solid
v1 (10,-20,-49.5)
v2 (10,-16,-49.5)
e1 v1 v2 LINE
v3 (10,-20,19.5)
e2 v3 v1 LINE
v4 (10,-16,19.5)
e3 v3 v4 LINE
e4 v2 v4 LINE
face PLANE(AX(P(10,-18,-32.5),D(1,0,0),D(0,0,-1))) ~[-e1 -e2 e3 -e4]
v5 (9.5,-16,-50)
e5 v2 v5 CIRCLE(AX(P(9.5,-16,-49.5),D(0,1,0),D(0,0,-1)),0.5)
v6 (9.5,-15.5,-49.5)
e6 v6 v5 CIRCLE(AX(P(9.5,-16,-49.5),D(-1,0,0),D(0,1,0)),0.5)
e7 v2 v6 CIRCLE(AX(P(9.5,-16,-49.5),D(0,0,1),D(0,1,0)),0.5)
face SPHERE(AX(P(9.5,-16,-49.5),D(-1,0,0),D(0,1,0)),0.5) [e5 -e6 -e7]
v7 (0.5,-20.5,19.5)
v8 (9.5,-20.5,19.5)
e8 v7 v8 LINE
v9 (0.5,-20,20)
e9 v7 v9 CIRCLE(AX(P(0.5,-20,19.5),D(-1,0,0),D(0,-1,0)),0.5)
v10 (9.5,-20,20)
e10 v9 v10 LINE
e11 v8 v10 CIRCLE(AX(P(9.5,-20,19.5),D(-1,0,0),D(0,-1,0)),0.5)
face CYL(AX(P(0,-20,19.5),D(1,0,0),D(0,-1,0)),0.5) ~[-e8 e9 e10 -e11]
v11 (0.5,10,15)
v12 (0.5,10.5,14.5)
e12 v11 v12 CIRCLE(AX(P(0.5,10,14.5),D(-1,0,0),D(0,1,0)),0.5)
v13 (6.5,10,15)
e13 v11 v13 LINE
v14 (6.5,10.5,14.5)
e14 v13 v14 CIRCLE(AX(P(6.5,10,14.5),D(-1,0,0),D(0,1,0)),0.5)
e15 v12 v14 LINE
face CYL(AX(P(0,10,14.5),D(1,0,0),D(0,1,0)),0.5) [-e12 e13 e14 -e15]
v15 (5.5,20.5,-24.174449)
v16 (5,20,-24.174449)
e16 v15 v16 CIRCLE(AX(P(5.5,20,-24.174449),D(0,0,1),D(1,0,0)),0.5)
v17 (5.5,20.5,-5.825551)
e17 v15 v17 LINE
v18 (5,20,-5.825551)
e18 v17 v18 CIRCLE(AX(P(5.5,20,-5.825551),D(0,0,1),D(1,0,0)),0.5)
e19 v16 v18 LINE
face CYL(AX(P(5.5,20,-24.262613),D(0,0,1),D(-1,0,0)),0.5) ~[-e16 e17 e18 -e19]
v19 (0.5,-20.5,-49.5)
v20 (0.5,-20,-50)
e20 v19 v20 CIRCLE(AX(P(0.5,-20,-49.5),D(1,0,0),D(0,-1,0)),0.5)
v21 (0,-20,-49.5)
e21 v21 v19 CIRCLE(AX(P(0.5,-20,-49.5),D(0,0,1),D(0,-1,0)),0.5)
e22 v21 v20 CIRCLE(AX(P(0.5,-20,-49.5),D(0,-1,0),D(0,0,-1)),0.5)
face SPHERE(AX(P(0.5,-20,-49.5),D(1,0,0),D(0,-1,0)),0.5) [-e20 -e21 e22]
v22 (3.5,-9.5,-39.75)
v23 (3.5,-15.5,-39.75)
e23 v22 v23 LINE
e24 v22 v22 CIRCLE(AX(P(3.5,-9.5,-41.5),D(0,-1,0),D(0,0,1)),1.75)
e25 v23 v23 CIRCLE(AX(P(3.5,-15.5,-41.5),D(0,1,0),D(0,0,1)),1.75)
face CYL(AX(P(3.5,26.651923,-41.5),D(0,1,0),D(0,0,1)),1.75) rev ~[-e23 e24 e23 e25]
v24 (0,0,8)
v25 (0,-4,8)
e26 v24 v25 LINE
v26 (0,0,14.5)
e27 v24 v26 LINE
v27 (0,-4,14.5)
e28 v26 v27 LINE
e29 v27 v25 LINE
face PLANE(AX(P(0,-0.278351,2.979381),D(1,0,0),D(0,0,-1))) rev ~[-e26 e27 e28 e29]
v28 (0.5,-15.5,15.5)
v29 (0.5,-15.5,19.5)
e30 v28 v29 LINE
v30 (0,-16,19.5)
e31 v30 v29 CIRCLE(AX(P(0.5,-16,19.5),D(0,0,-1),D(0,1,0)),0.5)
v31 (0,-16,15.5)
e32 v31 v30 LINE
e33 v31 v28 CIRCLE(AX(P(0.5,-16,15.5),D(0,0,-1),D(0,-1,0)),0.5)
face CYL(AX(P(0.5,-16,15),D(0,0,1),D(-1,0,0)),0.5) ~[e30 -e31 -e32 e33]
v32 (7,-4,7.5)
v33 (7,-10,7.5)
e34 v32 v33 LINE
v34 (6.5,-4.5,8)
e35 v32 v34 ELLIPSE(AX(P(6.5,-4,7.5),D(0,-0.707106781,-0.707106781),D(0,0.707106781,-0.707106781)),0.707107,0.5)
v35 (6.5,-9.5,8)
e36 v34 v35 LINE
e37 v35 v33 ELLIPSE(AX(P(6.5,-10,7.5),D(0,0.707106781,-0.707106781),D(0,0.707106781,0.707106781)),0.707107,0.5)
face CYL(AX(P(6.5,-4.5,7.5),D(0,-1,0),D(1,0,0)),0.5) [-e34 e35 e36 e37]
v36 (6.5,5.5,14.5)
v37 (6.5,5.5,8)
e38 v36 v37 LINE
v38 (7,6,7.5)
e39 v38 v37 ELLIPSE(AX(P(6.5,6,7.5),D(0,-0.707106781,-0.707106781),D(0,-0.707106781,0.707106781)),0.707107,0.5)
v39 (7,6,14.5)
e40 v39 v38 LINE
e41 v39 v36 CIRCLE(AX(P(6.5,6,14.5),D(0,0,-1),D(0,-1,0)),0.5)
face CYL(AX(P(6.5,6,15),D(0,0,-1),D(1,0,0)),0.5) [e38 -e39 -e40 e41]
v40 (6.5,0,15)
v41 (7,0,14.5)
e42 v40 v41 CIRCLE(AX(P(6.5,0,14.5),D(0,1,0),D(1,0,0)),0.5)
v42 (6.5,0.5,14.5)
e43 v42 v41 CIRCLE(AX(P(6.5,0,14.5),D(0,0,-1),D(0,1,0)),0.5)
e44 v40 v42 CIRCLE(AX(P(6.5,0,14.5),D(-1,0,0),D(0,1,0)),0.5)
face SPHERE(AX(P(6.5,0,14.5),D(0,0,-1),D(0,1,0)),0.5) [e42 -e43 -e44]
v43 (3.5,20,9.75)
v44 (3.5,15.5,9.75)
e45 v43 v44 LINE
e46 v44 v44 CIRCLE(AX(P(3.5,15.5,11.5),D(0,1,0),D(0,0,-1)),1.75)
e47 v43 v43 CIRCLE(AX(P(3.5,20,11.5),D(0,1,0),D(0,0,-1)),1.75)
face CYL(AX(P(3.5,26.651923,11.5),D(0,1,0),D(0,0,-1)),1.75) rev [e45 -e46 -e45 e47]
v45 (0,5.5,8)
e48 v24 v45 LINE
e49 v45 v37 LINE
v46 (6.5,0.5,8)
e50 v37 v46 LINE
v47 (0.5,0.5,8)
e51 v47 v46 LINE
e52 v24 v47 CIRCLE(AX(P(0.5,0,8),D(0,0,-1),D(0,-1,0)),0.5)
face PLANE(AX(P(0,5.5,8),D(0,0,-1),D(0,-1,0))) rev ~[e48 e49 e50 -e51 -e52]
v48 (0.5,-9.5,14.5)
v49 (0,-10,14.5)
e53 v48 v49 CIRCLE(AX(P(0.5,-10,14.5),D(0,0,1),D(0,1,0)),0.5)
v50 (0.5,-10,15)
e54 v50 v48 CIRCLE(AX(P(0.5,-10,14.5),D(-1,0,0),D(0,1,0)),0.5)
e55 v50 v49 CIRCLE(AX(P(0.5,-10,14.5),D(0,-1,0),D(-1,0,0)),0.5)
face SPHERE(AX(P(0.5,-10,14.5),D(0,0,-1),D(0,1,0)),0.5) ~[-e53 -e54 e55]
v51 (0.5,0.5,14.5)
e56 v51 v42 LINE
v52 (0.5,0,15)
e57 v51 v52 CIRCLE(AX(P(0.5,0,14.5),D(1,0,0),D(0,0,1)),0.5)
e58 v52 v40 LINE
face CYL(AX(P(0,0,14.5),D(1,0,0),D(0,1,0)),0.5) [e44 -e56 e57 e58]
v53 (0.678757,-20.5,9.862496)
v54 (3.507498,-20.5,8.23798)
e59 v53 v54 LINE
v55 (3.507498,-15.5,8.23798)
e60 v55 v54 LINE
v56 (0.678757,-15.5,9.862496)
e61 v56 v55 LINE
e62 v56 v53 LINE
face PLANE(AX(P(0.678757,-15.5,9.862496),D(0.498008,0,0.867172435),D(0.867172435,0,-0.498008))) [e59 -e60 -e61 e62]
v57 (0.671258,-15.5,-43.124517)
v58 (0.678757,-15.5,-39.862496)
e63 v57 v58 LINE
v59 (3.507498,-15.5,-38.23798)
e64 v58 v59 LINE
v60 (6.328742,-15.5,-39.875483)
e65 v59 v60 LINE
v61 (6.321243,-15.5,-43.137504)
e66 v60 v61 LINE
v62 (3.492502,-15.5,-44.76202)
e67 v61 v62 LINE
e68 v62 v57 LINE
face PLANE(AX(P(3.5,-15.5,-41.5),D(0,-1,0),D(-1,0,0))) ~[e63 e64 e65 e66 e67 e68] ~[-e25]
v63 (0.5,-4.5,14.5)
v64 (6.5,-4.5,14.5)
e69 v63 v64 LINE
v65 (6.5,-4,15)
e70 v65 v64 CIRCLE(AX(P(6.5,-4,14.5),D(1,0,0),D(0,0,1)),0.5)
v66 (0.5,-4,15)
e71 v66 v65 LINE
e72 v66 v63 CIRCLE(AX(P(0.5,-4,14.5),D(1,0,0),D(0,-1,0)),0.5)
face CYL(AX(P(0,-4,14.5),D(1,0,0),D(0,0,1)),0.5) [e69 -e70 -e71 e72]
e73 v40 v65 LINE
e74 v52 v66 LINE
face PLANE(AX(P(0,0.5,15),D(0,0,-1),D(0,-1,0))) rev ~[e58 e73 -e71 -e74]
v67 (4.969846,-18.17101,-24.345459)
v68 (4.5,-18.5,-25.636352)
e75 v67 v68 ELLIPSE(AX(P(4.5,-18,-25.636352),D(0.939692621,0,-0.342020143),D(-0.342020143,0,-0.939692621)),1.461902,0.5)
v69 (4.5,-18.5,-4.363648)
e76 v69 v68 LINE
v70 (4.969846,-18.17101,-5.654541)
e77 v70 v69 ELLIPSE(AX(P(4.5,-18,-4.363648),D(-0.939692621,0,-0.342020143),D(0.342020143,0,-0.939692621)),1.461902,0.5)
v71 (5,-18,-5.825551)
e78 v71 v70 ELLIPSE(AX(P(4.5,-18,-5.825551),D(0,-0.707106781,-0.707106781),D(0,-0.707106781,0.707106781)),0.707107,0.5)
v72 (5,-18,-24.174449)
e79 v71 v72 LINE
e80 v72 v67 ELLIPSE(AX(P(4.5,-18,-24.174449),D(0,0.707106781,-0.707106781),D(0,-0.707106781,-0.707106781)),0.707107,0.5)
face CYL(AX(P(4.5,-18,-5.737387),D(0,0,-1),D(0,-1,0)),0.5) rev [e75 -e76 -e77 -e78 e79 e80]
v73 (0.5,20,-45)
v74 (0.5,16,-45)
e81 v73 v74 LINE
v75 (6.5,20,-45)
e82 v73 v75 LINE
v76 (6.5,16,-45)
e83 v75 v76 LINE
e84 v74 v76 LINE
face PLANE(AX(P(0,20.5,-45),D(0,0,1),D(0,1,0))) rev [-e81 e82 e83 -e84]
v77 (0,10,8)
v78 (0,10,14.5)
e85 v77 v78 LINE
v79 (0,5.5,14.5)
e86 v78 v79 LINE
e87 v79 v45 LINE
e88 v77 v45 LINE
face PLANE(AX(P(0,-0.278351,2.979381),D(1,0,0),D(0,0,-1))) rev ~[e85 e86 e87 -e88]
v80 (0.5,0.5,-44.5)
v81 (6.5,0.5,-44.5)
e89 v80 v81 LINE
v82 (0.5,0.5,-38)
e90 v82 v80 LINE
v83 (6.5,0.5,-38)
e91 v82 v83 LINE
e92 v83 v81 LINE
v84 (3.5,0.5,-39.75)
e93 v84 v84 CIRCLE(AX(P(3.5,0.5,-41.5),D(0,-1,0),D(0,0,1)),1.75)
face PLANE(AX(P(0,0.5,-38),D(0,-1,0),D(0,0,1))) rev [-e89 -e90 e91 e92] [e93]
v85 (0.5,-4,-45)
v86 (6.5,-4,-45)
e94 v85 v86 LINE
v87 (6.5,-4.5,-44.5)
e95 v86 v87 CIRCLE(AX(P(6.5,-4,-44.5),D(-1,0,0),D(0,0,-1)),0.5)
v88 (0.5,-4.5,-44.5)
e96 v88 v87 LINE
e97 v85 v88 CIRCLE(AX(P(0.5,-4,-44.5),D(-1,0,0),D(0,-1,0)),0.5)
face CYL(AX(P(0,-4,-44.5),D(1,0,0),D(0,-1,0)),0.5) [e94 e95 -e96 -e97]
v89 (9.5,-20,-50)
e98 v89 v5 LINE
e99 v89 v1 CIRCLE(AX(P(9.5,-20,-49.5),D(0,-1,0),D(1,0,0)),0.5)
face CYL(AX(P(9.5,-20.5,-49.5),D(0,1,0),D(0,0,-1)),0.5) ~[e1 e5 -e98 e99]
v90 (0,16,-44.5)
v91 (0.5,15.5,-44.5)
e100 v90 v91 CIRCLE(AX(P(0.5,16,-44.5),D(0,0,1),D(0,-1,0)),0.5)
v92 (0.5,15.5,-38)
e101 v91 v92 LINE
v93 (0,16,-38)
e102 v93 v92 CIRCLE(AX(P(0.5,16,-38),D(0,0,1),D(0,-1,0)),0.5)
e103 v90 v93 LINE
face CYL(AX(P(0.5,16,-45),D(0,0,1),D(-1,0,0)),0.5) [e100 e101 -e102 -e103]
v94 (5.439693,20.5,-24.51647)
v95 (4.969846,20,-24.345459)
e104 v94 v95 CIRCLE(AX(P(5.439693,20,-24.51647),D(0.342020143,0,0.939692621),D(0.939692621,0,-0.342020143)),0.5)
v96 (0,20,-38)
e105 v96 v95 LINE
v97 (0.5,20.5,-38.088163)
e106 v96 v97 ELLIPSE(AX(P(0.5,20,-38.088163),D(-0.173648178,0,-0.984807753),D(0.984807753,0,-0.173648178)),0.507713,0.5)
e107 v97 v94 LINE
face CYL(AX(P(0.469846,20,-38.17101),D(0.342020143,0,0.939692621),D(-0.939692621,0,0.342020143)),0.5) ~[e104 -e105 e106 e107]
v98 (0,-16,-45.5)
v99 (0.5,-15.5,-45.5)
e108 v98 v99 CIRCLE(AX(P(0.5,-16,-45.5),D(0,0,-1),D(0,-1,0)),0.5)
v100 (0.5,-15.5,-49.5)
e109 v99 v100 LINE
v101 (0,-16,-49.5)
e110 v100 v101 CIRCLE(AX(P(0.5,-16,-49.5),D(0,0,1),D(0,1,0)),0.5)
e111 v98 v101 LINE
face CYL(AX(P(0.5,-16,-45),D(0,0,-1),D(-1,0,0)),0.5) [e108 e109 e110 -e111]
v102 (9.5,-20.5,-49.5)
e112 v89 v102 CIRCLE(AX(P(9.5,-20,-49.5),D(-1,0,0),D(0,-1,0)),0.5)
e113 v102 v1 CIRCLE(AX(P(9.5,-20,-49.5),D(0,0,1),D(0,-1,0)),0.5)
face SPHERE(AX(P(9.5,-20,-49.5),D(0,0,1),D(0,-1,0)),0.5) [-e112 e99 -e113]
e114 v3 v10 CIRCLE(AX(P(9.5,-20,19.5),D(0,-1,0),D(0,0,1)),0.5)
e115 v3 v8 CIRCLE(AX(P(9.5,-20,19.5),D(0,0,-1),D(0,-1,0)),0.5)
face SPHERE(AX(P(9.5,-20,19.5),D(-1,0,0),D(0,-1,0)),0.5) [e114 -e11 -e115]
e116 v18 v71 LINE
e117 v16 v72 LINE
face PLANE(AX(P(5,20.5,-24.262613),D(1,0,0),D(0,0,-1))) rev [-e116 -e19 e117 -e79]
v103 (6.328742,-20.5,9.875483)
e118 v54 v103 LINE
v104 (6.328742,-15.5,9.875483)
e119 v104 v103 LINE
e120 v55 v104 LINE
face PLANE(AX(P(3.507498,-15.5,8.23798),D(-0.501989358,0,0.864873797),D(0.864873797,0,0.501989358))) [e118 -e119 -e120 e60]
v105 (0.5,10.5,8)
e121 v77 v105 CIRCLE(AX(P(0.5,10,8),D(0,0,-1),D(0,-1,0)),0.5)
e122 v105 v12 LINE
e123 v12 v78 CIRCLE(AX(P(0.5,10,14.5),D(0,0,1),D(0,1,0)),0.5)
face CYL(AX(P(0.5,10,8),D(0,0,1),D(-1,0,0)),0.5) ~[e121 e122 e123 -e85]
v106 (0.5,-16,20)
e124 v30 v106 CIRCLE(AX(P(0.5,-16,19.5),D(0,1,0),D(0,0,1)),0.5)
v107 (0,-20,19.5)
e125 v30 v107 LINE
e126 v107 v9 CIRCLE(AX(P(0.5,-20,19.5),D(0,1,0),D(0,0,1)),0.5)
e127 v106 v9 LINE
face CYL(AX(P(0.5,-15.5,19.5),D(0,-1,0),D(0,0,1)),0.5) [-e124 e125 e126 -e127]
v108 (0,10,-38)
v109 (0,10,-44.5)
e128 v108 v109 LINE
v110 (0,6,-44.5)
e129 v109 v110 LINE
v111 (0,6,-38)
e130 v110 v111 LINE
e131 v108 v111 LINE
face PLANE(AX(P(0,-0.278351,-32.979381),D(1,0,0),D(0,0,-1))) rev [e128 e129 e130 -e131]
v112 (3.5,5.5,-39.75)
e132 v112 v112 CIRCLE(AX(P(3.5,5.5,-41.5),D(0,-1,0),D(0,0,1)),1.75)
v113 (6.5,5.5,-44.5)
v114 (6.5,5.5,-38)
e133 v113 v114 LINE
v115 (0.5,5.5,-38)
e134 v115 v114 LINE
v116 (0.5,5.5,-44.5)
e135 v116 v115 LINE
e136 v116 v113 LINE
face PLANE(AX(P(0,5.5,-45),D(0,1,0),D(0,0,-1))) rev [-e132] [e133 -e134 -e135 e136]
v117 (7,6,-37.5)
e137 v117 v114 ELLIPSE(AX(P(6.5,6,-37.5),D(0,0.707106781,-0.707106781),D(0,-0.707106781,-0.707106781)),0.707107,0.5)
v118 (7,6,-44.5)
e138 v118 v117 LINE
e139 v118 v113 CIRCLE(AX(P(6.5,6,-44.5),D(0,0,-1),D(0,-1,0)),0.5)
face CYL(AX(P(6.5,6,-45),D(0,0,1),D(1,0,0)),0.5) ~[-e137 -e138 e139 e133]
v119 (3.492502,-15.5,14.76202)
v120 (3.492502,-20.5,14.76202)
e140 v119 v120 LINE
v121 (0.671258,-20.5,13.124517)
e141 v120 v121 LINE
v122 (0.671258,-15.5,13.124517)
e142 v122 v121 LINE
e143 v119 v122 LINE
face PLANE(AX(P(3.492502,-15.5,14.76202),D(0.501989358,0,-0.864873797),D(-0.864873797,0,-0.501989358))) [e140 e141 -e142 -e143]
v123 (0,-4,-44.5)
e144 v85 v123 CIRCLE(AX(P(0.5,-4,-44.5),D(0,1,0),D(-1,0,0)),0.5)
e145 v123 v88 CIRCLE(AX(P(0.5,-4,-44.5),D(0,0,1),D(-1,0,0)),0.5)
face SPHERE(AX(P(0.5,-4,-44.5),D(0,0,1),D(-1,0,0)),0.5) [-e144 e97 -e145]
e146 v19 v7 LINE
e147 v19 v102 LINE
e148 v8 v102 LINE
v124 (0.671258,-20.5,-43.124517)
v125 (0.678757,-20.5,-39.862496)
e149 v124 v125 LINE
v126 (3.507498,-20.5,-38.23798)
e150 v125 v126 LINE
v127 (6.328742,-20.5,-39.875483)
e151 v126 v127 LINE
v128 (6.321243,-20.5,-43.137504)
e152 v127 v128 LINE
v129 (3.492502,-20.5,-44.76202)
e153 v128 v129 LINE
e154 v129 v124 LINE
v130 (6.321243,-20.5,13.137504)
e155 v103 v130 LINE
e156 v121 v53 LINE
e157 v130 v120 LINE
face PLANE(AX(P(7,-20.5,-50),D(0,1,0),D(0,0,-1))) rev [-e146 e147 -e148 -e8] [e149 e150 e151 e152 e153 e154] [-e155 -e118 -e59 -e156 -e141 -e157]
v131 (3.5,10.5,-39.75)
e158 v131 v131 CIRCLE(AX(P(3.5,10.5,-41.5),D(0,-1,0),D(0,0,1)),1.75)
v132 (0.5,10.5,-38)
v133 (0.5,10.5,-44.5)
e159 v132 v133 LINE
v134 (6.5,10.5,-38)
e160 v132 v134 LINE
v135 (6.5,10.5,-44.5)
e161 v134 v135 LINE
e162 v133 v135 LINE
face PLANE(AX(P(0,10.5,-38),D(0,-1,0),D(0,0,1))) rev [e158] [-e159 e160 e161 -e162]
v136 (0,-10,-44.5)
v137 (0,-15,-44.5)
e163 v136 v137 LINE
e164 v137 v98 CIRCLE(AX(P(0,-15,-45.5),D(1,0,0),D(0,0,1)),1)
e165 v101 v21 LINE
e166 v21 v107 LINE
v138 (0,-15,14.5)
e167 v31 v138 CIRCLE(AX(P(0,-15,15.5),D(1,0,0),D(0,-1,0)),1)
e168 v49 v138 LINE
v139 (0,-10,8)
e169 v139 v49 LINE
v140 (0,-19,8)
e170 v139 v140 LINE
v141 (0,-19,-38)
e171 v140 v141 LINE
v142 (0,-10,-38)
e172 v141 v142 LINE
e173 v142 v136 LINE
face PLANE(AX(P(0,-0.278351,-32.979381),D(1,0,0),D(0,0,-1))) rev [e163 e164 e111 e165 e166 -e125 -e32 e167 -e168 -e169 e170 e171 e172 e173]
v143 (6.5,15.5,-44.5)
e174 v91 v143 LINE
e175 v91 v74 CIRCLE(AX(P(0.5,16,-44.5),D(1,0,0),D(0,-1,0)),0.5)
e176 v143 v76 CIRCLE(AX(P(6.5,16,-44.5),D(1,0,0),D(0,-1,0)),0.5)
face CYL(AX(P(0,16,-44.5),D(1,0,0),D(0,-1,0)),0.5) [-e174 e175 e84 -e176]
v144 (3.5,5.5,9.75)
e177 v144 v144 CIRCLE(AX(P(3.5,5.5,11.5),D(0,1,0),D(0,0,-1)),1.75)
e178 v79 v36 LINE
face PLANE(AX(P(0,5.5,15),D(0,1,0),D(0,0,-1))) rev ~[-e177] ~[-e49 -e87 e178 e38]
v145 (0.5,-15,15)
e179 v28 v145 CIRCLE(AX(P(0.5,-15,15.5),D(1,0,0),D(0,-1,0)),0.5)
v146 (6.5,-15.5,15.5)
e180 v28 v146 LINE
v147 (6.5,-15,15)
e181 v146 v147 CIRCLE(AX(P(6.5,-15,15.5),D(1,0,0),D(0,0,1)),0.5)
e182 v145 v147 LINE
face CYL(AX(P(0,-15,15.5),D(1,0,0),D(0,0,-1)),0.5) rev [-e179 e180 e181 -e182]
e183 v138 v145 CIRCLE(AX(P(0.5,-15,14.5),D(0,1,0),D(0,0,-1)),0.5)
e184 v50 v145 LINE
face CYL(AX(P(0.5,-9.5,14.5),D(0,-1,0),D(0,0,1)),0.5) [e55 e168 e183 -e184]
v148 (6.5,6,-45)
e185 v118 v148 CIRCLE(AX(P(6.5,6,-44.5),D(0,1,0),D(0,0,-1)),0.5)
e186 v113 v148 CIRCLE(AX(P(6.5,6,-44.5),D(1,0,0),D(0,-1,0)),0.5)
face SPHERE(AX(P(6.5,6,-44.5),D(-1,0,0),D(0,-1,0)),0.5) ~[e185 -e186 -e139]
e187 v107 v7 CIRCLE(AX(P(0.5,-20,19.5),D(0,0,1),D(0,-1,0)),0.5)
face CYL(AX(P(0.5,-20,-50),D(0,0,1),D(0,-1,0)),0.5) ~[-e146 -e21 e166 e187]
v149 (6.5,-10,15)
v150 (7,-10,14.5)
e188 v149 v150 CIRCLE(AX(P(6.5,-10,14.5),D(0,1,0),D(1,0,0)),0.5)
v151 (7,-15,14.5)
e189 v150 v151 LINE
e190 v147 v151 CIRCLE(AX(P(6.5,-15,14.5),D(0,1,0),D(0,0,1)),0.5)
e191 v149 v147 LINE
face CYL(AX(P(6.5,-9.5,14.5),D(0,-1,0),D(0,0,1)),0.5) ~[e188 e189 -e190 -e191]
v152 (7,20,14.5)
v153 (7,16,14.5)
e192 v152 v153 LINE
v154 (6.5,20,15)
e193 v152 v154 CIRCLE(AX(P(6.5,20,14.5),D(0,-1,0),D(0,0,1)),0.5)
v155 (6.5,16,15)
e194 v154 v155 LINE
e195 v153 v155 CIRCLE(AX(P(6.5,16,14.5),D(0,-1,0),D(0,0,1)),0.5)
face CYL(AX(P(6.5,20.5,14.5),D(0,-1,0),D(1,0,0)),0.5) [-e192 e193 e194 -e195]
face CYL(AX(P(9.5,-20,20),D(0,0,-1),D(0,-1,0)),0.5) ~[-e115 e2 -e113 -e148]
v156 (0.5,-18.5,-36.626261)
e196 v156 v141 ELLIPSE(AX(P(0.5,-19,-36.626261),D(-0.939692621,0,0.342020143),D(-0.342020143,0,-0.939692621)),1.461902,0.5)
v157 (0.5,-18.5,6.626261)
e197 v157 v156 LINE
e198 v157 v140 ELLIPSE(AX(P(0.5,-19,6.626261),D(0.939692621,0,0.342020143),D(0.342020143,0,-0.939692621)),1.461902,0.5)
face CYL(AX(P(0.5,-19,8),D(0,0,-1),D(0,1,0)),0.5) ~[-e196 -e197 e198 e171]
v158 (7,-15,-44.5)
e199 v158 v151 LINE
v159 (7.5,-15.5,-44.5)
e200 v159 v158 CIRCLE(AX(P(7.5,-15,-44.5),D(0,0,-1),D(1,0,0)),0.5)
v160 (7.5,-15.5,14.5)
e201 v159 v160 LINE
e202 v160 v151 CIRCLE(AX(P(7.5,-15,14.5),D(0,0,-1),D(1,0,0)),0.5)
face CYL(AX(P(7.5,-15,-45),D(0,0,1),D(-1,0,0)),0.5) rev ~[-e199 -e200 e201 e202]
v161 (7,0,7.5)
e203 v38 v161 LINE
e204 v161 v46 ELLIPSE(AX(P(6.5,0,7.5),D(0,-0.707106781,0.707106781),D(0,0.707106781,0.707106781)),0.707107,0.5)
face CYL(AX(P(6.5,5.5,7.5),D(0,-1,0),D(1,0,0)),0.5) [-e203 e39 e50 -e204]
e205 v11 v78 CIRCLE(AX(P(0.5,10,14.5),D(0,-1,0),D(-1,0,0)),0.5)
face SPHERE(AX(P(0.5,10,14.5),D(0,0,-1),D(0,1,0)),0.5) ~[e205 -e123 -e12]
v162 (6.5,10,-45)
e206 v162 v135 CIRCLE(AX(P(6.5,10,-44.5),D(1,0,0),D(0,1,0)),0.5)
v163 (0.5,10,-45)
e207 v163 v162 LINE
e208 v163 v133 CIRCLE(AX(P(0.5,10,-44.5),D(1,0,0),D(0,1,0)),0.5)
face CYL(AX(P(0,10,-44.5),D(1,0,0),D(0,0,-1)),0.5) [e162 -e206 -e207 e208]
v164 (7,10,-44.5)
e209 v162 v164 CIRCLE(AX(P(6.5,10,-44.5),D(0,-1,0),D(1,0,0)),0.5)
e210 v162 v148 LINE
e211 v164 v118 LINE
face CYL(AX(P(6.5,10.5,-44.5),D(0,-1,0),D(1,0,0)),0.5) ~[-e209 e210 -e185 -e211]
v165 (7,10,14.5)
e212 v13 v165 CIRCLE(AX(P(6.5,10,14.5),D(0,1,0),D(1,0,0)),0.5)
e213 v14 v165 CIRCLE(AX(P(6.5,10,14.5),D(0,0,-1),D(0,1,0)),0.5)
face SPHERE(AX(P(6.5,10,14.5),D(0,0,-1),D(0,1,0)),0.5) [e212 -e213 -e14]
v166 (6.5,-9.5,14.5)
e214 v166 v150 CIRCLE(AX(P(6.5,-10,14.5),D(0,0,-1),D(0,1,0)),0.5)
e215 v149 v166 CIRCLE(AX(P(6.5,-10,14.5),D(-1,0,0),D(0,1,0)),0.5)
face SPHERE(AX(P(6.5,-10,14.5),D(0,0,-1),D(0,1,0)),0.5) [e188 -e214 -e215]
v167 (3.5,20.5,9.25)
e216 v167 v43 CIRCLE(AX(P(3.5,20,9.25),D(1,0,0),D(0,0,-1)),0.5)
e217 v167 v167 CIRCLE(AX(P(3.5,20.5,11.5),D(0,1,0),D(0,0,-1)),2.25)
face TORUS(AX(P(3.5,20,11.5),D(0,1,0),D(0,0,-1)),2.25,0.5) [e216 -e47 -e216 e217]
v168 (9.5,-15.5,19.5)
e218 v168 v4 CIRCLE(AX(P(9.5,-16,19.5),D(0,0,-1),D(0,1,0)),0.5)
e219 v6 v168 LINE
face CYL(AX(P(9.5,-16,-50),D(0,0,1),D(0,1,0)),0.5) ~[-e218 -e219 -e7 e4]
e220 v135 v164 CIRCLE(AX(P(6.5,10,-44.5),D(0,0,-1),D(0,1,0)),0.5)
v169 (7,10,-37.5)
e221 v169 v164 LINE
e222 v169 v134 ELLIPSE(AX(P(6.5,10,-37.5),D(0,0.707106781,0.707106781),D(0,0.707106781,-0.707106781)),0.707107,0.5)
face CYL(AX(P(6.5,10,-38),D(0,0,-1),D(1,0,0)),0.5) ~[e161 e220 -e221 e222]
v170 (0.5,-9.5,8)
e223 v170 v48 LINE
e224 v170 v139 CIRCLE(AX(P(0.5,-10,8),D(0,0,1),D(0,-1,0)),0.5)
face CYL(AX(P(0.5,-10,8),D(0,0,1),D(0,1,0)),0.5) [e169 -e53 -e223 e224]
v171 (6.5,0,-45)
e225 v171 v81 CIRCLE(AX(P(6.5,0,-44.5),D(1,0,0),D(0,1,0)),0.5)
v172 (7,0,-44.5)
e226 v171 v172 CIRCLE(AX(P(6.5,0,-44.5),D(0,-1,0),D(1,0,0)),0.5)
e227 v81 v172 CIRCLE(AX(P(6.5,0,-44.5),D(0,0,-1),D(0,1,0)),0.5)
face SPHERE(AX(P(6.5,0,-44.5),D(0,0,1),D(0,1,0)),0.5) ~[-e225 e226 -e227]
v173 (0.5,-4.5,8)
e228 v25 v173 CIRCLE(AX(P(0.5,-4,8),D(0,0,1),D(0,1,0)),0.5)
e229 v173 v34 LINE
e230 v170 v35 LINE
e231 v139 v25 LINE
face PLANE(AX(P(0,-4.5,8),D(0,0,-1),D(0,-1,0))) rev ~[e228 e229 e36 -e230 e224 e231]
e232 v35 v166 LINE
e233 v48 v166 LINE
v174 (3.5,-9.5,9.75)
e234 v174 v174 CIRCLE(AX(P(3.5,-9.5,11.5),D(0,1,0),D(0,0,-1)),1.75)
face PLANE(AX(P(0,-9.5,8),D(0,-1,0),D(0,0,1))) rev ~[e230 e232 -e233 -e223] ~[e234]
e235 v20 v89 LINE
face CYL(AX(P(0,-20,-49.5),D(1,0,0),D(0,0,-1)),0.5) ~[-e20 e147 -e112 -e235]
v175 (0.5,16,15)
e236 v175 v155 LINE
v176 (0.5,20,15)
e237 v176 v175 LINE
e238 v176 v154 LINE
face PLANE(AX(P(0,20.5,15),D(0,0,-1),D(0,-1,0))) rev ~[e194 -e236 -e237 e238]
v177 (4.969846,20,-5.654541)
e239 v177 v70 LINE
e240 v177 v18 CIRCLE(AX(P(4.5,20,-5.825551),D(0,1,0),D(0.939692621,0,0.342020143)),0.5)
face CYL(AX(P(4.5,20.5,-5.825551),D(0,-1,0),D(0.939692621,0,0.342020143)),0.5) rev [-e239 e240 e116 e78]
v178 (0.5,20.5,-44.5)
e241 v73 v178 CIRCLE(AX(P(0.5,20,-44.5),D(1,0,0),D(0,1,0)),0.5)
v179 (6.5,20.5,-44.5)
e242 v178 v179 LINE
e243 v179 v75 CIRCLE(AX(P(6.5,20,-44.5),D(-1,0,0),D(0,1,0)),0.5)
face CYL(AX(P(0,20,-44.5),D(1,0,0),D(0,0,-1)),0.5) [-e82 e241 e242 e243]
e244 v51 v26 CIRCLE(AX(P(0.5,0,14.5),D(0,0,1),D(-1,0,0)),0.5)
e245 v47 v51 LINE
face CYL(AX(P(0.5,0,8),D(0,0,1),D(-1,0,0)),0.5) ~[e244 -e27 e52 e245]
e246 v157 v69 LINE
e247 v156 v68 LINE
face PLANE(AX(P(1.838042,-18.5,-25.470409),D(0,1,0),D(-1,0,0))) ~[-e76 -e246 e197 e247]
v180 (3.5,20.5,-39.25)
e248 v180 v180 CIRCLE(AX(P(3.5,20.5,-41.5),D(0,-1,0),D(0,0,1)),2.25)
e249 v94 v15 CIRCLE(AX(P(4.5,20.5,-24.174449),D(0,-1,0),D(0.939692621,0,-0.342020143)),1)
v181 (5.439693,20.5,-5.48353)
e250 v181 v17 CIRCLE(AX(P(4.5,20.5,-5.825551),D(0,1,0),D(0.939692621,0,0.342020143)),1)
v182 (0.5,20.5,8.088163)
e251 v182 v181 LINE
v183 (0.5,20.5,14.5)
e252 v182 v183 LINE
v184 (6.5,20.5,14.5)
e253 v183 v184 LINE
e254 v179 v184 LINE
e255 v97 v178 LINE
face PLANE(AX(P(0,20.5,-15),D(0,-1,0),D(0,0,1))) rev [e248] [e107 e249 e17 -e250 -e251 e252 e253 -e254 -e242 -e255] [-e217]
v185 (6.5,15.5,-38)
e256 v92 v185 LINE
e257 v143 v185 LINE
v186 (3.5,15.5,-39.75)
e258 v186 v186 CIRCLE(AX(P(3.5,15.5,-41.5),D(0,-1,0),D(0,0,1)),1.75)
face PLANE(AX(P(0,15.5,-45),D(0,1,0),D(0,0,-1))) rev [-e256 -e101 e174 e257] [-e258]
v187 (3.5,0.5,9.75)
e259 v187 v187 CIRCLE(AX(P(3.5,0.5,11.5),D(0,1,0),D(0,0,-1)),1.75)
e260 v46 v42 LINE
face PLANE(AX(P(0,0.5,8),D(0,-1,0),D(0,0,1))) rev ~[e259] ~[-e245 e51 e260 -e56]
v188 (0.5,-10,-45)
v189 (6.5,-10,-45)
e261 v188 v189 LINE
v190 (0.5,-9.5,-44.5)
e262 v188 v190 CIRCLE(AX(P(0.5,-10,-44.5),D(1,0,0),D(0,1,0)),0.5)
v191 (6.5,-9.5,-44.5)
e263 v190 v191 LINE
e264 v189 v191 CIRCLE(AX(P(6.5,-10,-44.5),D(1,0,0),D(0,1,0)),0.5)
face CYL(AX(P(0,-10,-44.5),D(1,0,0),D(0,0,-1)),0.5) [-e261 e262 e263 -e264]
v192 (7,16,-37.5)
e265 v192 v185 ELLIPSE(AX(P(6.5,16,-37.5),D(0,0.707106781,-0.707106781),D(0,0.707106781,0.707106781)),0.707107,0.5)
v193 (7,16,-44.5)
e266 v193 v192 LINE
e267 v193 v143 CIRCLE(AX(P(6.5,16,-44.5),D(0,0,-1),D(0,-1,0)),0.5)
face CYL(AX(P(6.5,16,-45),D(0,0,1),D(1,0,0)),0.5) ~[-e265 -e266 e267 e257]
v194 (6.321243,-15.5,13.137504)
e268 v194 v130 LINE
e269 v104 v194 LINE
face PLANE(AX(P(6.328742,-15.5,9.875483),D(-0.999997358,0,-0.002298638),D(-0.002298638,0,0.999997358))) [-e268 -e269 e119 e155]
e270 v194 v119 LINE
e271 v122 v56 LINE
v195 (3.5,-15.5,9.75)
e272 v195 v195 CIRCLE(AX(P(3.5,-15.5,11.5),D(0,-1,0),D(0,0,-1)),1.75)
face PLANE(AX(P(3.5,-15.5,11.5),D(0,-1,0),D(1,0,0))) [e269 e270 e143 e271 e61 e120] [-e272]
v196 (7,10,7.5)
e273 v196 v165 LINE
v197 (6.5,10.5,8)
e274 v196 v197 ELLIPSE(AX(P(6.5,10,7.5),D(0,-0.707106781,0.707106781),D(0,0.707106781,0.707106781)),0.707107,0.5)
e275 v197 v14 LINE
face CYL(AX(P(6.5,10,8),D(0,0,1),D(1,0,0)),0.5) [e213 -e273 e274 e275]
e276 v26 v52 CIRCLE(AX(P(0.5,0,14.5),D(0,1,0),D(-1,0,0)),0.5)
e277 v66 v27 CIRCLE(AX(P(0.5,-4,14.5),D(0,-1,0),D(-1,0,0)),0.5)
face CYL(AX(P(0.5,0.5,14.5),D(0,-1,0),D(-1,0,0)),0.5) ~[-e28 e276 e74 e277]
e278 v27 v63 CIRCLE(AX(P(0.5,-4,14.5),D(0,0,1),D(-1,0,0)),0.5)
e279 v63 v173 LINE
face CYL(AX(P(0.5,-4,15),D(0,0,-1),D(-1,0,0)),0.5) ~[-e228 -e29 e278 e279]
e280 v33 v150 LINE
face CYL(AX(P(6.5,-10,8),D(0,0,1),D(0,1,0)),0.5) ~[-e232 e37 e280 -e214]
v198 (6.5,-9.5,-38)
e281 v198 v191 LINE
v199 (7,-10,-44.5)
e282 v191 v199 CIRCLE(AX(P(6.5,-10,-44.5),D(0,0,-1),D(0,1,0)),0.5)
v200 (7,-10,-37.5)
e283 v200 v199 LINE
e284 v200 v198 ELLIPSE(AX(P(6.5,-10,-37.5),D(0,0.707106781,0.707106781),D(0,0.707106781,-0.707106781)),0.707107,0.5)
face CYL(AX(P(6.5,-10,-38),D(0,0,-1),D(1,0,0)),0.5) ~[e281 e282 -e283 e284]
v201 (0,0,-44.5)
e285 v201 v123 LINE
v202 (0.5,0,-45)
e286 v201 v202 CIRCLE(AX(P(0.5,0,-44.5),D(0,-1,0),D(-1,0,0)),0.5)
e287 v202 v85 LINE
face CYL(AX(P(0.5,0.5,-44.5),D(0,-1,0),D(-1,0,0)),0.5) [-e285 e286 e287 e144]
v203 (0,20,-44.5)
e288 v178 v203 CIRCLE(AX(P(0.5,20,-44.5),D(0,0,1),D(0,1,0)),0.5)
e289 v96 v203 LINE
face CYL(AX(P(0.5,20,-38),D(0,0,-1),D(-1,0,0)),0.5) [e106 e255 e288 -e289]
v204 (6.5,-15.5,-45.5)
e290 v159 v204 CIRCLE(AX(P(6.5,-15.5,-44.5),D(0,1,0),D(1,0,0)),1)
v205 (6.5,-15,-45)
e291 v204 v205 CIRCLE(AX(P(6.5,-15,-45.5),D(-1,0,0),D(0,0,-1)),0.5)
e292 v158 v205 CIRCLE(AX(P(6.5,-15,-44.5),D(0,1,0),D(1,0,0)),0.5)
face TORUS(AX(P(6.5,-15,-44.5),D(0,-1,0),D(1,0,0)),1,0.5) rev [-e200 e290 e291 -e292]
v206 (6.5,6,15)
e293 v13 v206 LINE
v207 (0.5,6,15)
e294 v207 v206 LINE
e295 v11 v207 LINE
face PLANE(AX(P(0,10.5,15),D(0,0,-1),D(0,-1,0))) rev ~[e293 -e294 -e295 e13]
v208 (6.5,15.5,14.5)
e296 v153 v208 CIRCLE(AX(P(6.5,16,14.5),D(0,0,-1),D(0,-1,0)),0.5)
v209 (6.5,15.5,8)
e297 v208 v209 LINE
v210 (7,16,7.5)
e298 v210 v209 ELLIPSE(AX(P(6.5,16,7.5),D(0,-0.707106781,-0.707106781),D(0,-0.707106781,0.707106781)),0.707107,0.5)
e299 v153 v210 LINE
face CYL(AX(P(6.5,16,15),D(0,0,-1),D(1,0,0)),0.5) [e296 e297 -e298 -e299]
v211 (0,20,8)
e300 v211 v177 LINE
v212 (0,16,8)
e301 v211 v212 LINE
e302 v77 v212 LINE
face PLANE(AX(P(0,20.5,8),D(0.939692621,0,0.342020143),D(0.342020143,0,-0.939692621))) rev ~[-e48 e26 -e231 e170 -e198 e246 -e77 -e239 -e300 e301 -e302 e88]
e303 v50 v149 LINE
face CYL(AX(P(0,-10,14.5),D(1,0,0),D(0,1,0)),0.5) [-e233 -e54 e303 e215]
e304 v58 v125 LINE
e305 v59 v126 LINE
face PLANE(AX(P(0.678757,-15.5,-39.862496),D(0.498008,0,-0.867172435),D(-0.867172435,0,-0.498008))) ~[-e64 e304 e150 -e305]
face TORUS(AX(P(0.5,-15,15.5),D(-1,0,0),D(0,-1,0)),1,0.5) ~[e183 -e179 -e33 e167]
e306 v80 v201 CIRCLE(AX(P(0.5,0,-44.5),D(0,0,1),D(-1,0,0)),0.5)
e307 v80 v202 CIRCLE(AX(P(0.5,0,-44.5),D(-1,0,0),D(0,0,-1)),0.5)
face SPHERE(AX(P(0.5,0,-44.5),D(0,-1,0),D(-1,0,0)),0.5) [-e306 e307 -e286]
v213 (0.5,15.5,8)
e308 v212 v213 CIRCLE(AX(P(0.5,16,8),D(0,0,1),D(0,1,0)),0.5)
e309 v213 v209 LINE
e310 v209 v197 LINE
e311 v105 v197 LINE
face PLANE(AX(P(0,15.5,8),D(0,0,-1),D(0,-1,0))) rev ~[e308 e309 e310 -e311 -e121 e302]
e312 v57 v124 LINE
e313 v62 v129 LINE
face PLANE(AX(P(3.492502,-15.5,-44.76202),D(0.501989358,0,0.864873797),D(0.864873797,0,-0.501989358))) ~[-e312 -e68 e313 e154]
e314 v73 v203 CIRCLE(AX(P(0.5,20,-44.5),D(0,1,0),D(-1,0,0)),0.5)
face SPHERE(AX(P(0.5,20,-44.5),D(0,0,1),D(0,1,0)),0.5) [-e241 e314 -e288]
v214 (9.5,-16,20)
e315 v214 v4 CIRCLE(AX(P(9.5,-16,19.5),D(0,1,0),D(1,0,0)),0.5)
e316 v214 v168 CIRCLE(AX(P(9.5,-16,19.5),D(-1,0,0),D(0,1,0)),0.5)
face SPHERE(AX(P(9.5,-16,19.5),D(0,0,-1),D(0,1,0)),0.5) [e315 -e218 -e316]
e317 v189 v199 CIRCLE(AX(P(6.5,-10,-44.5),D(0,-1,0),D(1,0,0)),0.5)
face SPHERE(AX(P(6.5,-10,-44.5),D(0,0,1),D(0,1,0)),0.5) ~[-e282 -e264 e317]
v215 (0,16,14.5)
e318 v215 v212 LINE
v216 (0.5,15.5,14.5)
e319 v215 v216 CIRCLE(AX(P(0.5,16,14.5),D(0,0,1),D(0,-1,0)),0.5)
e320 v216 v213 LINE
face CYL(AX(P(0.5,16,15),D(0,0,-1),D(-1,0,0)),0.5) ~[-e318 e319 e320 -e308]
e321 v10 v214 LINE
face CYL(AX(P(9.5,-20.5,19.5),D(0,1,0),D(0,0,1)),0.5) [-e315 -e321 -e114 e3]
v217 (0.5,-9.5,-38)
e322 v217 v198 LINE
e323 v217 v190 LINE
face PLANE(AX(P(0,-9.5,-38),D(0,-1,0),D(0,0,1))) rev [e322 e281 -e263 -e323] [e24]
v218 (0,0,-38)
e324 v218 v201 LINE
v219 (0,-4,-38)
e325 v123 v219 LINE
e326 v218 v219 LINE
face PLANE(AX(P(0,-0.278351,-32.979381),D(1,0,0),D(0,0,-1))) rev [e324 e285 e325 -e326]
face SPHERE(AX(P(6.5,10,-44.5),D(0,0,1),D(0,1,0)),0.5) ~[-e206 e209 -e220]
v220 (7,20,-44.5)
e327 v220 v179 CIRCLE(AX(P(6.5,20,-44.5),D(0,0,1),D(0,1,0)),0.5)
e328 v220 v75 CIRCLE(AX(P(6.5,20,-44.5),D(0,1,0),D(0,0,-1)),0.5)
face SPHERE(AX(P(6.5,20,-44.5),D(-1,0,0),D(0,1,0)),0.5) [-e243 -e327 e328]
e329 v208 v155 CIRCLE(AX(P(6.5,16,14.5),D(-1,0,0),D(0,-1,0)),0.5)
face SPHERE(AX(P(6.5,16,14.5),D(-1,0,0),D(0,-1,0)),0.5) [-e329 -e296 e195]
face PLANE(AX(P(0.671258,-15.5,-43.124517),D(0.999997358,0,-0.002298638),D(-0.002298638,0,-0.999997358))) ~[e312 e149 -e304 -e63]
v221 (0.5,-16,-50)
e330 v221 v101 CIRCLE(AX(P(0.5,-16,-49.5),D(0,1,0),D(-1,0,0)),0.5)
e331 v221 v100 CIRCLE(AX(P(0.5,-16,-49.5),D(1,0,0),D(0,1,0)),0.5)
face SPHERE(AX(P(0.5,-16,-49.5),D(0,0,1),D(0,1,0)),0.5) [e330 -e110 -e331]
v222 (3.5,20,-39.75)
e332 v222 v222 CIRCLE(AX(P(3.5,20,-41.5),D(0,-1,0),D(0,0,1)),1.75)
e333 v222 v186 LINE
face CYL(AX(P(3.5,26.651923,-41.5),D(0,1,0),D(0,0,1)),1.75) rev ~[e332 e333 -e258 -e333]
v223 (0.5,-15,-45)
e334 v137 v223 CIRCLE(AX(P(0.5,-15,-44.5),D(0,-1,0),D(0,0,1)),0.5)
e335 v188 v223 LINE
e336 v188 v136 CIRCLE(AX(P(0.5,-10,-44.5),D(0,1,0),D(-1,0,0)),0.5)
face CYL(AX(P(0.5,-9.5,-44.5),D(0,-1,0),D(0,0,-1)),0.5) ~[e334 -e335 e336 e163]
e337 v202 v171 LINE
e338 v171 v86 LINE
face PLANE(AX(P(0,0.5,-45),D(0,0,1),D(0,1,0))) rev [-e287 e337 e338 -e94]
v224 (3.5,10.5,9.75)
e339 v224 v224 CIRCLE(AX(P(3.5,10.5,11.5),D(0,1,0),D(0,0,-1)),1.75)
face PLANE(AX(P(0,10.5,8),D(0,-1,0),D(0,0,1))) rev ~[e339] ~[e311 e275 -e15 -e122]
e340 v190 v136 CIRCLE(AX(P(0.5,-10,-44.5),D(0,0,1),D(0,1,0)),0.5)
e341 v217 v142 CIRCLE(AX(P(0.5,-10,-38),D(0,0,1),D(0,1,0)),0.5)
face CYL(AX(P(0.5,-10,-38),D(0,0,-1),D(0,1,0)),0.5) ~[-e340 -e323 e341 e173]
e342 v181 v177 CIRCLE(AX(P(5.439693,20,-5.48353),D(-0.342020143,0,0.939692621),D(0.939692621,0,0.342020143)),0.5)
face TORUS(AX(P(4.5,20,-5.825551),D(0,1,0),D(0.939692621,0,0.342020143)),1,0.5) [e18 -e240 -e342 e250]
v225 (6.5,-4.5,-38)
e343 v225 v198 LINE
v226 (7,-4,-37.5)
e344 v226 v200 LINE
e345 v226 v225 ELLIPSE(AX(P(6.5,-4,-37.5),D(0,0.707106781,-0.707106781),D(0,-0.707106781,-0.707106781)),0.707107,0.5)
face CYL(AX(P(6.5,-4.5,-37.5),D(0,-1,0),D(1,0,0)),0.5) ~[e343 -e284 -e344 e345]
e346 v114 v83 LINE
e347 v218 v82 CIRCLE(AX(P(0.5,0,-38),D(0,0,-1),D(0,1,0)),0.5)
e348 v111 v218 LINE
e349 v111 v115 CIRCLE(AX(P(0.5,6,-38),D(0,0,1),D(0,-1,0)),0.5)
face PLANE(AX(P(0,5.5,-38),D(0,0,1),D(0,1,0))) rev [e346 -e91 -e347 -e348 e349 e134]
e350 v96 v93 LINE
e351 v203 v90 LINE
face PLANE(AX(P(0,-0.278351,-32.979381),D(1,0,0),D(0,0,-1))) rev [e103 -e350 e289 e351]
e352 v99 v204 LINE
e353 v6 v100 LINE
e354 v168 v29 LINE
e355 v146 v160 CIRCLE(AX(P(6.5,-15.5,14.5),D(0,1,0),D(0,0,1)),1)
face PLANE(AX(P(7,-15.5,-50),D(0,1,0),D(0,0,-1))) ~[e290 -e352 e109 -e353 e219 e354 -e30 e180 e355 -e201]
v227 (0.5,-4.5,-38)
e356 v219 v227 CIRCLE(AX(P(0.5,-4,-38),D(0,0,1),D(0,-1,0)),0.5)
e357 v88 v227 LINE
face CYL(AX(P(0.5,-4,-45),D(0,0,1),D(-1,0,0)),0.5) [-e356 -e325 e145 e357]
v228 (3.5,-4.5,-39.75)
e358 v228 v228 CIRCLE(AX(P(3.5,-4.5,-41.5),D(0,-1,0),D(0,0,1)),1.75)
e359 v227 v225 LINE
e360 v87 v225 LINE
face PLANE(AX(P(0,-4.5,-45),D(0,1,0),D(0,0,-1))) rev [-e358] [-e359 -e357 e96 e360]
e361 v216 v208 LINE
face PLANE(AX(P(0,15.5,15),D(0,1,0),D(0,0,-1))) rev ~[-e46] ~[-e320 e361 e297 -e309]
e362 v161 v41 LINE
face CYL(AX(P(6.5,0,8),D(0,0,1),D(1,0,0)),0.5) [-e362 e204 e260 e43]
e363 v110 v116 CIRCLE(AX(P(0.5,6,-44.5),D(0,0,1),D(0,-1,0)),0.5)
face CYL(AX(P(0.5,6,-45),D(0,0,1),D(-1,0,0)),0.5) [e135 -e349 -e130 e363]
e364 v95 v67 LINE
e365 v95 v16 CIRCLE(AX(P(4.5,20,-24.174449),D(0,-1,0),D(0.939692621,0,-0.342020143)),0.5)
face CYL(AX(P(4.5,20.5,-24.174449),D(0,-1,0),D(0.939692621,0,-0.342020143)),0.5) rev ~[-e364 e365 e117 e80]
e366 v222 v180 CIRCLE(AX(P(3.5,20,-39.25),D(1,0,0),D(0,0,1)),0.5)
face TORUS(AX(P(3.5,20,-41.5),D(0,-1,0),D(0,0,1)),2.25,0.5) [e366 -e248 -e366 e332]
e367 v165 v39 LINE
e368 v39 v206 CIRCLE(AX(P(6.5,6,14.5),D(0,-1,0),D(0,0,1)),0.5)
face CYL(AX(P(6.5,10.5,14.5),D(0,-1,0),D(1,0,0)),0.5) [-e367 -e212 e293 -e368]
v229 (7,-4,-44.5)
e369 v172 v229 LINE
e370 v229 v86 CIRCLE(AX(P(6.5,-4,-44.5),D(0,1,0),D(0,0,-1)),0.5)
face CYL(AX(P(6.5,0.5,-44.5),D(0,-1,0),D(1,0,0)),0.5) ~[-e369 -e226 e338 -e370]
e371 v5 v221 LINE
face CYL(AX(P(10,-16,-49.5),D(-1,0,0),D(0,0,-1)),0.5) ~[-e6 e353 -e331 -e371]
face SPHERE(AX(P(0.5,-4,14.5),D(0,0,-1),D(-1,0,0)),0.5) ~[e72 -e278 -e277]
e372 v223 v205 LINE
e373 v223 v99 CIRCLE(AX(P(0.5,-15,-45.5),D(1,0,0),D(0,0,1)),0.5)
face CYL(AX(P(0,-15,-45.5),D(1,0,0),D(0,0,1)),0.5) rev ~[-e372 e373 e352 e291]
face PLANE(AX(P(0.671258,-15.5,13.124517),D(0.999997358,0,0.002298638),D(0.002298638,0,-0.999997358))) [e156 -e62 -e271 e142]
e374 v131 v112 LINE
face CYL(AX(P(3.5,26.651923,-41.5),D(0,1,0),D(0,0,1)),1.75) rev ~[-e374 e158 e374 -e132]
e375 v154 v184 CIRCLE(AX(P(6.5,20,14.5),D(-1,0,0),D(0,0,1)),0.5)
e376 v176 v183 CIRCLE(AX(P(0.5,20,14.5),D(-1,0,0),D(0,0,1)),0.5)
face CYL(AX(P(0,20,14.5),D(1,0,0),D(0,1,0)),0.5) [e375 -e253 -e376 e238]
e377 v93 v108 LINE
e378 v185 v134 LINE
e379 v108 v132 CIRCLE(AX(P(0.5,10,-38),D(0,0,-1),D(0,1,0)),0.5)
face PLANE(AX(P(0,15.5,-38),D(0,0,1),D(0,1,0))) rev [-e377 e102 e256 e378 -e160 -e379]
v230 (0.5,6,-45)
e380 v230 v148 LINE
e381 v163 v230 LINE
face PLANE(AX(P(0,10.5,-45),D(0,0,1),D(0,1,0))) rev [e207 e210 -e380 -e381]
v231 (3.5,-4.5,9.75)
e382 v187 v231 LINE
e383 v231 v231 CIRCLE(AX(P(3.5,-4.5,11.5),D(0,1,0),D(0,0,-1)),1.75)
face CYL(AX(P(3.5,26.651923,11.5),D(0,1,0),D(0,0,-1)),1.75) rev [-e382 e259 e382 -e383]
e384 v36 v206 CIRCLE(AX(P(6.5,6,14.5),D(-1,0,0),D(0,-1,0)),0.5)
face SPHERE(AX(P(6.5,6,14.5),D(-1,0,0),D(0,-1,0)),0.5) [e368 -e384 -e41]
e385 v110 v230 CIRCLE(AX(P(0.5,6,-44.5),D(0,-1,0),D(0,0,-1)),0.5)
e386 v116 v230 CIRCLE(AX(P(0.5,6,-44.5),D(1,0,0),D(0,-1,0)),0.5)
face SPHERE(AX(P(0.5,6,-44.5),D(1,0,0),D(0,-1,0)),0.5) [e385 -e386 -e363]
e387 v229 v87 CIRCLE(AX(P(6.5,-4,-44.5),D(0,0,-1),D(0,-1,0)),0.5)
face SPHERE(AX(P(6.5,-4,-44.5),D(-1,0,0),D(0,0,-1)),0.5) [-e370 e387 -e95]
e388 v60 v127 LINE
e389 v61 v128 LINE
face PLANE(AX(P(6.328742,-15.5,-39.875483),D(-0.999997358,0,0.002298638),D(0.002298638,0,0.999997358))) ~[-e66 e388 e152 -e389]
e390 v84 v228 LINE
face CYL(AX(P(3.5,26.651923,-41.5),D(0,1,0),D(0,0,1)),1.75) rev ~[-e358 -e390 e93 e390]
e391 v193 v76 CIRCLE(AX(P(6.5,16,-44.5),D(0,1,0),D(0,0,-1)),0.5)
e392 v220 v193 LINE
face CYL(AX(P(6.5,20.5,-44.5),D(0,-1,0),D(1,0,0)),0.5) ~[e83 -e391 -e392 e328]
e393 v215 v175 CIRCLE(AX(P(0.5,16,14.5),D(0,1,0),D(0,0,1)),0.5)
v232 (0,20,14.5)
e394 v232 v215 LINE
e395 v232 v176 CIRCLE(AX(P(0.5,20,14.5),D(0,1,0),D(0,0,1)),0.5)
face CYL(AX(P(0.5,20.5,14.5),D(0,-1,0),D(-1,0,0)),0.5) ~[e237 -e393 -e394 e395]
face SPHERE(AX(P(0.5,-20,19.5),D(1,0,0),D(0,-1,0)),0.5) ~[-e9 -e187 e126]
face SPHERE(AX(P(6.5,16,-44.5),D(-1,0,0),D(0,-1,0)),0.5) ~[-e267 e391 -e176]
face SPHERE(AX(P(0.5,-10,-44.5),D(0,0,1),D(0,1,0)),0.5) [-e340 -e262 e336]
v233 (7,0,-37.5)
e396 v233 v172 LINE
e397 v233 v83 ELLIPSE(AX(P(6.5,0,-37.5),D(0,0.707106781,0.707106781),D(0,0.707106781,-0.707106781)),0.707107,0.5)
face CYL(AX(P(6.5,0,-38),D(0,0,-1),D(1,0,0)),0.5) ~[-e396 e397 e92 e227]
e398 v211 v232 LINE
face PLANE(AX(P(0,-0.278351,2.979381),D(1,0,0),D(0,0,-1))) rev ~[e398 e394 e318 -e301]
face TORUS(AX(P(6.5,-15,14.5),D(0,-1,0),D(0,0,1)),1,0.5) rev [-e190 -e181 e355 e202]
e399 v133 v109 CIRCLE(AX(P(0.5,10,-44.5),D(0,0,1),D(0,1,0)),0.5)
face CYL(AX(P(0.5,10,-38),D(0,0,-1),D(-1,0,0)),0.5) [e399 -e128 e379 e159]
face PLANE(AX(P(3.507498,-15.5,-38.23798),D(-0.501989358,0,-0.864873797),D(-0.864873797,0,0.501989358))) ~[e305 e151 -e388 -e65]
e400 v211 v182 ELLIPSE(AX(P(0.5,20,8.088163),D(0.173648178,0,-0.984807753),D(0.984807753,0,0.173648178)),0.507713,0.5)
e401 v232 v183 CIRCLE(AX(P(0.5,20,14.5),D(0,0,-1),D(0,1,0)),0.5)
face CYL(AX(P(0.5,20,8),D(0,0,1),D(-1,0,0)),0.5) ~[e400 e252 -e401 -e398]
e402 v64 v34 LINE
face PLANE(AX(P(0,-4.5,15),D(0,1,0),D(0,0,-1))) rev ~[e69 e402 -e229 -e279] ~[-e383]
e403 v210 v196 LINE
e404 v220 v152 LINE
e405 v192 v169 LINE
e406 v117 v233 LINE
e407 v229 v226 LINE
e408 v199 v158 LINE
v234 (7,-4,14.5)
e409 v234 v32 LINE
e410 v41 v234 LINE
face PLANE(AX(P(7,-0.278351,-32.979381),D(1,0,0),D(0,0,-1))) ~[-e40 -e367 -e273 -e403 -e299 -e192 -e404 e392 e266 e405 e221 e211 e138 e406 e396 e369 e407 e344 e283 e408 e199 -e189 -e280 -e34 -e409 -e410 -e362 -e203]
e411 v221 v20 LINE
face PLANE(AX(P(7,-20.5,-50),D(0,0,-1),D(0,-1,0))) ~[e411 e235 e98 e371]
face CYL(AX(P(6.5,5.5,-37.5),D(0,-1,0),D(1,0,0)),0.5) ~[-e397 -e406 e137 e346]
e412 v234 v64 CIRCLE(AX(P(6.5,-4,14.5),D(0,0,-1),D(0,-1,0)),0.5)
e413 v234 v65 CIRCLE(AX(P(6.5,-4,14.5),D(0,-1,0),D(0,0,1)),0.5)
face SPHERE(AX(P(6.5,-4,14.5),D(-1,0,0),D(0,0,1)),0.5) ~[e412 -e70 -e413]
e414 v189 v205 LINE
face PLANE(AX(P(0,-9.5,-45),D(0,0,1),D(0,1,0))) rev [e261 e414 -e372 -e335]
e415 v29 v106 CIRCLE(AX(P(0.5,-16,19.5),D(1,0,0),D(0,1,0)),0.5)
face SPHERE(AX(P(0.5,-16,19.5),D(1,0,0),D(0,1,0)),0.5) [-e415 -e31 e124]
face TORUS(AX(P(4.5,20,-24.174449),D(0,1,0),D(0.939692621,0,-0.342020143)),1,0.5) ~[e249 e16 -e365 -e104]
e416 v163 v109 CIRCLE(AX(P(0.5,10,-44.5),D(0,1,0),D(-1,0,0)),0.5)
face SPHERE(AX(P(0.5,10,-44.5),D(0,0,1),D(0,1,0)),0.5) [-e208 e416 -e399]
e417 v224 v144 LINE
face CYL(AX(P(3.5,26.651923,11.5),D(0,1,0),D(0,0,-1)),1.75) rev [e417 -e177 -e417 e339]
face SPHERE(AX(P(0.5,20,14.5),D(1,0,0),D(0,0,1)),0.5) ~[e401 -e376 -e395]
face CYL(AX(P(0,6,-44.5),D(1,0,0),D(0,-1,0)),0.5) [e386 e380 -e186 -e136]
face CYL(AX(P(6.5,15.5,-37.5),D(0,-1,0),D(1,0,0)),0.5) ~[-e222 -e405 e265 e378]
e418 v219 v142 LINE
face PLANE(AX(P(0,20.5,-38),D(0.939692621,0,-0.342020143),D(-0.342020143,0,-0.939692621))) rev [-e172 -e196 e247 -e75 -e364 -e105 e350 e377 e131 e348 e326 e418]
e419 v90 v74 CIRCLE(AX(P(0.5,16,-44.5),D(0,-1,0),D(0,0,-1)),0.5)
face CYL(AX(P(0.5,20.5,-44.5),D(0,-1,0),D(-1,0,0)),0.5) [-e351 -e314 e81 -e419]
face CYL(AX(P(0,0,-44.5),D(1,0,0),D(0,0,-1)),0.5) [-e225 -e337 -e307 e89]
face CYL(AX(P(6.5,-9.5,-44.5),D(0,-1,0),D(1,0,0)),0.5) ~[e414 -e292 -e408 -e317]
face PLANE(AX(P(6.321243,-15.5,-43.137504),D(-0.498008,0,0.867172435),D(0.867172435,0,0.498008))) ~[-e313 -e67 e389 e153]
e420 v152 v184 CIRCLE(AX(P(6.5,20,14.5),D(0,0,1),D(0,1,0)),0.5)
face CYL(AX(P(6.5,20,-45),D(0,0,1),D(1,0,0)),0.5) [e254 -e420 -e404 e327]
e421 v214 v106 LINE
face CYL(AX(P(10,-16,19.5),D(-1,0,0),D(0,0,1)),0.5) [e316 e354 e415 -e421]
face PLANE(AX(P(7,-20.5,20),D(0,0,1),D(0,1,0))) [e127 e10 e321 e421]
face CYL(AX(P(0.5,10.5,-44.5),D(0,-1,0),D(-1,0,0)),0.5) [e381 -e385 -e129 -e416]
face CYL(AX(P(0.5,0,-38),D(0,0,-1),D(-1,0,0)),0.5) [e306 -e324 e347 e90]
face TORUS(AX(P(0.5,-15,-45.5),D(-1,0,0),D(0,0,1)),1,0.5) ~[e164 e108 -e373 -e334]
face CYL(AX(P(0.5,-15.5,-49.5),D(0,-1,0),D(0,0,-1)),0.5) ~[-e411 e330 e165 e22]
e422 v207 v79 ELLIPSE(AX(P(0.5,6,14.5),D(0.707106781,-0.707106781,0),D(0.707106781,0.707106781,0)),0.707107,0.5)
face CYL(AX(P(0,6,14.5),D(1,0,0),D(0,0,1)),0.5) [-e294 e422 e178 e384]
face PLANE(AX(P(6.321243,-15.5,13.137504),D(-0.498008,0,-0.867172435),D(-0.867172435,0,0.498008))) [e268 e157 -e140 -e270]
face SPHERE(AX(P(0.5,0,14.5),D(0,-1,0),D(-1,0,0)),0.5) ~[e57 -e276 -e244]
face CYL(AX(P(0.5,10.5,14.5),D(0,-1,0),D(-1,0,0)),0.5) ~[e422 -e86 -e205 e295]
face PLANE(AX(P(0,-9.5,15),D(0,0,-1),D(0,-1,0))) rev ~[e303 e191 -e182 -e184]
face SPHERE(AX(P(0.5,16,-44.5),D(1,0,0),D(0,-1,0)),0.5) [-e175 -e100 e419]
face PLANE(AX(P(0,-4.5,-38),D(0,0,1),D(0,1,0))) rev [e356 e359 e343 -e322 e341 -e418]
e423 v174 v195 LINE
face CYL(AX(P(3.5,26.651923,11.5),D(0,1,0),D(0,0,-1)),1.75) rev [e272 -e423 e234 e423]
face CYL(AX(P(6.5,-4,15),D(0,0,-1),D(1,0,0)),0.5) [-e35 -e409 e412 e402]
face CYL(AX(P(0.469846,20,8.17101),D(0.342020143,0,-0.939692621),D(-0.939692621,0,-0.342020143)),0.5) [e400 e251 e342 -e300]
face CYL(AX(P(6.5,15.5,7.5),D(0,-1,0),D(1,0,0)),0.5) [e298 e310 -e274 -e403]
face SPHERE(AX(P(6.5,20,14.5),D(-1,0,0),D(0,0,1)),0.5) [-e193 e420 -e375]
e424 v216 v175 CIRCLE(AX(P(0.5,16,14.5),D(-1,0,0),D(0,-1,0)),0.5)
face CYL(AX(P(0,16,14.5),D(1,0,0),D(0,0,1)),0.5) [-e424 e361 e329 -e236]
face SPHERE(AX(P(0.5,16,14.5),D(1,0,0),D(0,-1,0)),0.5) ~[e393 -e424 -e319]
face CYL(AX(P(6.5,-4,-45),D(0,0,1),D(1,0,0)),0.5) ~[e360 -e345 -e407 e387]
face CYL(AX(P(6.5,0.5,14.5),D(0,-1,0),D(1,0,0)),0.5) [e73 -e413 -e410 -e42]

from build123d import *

# Parameters (mm, degrees)
BOSS_EXTRUDE1_DEPTH     = 7
CUT_EXTRUDE3_DEPTH      = 47.151923037
CUT_EXTRUDE3_DEPTH_BACK = 47.151923037
SKETCH7_R               = 1.75
SKETCH3_W               = 35
SKETCH3_H               = 5
BOSS_EXTRUDE2_DEPTH     = 3
CUT_EXTRUDE4_DEPTH      = 47.701177715
CUT_EXTRUDE4_DEPTH_BACK = 5
SKETCH7_3_R             = 1.75
CUT_EXTRUDE5_DEPTH      = 39
FILLET1_R               = 0.5


with BuildPart() as part:
    # Sketch1 → Boss-Extrude1 (new body)
    with BuildSketch(Plane(origin=(0, 0, 0), x_dir=(0, 0, -1), z_dir=(1, 0, 0))):
        Polygon((-20, -20.5), (-15, -20.5), (15, -20.5), (15, 20.5), (-8, 20.5), (-15, 20.5), (-15, 15.5), (-8, 15.5), (-8, 10.5), (-15, 10.5), (-15, 5.5), (-8, 5.5), (-8, 0.5), (-15, 0.5), (-15, -4.5), (-8, -4.5), (-8, -9.5), (-15, -9.5), (-15, -15.5), (-20, -15.5), align=None)
    extrude(amount=BOSS_EXTRUDE1_DEPTH)

    # Sketch7 → Cut-Extrude3 (cut, two sides: drawn at the far end of the back side and taken through both)
    with BuildSketch(Plane.XZ.offset(20.5).offset(-CUT_EXTRUDE3_DEPTH_BACK)):
        with Locations((3.5, 11.5)):
            Circle(SKETCH7_R)
    extrude(amount=CUT_EXTRUDE3_DEPTH + CUT_EXTRUDE3_DEPTH_BACK, mode=Mode.SUBTRACT)

    # Sketch3 → Boss-Extrude2 (add)
    with BuildSketch(Plane(origin=(7, 0, 0), x_dir=(0, 0, -1), z_dir=(1, 0, 0))):
        with Locations((-2.5, -18)):
            Rectangle(SKETCH3_W, SKETCH3_H)
    extrude(amount=BOSS_EXTRUDE2_DEPTH)

    # Sketch7<3> → Cut-Extrude4 (cut, two sides: drawn at the far end of the back side and taken through both)
    with BuildSketch(Plane.XZ.offset(20.5).offset(-CUT_EXTRUDE4_DEPTH_BACK)):
        Polygon((0.671258352, 13.12451655), (0.678756575, 9.862496147), (3.507498223, 8.237979597), (6.328741648, 9.87548345), (6.321243425, 13.137503853), (3.492501777, 14.762020403), align=None)
        with Locations((3.5, 11.5)):
            Circle(SKETCH7_3_R, mode=Mode.SUBTRACT)
    extrude(amount=CUT_EXTRUDE4_DEPTH + CUT_EXTRUDE4_DEPTH_BACK, mode=Mode.SUBTRACT)

    # Sketch8 → Cut-Extrude5 (cut)
    with BuildSketch(Plane(origin=(0, 20.5, 0), x_dir=(1, 0, 0), z_dir=(0, 1, 0))):
        Polygon((0, -8), (5, 5.737387097), (5, 15), (0, 15), align=None)
    extrude(amount=-CUT_EXTRUDE5_DEPTH, mode=Mode.SUBTRACT)

    # Mirror2: part across plane


with BuildPart() as part_1:
    add(part.part)
    add(part.part.mirror(Plane(origin=(7, 0, -15), x_dir=(1, 0, 0), z_dir=(0, 0, 1))))

    # Fillet1
    fillet1_edges = [part_1.edges().sort_by_distance(p)[0] for p in [
        (3.5, -9.5, 15),
        (3.5, -15.5, 15),
        (0, -12.5, 15),
        (5, -15.5, 20),
        (5, -20.5, 20),
        (0, -18, 20),
        (5, -20.5, -50),
        (5, -15.5, -50),
        (0, -18, -50),
        (3.5, -15.5, -45),
        (3.5, -9.5, -45),
        (0, -12.5, -45),
        (3.5, -4.5, -45),
        (3.5, 0.5, -45),
        (0, -2, -45),
        (3.5, 5.5, -45),
        (3.5, 10.5, -45),
        (0, 8, -45),
        (3.5, 15.5, -45),
        (0, 18, -45),
        (3.5, 15.5, 15),
        (0, 18, 15),
        (3.5, 10.5, 15),
        (3.5, 5.5, 15),
        (0, 8, 15),
        (3.5, 0.5, 15),
        (3.5, -4.5, 15),
        (0, -2, 15),
        (5, 1, -5.737387097),
        (5, 1, -24.262612903),
        (7, -9.5, 11.5),
        (7, -7, 8),
        (7, -4.5, 11.5),
        (7, -2, 15),
        (7, 0.5, 11.5),
        (7, 3, 8),
        (7, 5.5, 11.5),
        (7, 8, 15),
        (7, 10.5, 11.5),
        (7, 13, 8),
        (7, 15.5, 11.5),
        (7, 18, 15),
        (7, 18, -45),
        (7, 15.5, -41.5),
        (7, 13, -38),
        (7, 10.5, -41.5),
        (7, 8, -45),
        (7, 5.5, -41.5),
        (7, 3, -38),
        (7, 0.5, -41.5),
        (7, -2, -45),
        (7, -4.5, -41.5),
        (7, -7, -38),
        (7, -9.5, -41.5),
        (7, -12.5, -45),
        (7, -15.5, -15),
        (7, -12.5, 15),
        (1.75, 20.5, -41.5),
        (1.75, 20.5, 11.5),
        (5, 20.5, -15),
        (2.5, 20.5, -31.131306451),
        (0, 20.5, -41.5),
        (3.5, 20.5, -45),
        (7, 20.5, -15),
        (3.5, 20.5, 15),
        (0, 20.5, 11.5),
        (2.5, 20.5, 1.131306451),
        (0, -4.5, 11.5),
        (0, 0.5, 11.5),
        (0, 10.5, 11.5),
        (0, 15.5, 11.5),
        (0, -9.5, 11.5),
        (0, -15.5, 17.5),
        (0, 15.5, -41.5),
        (0, 10.5, -41.5),
        (0, 5.5, -41.5),
        (0, -4.5, -41.5),
        (0, 0.5, -41.5),
        (0, -9.5, -41.5),
        (0, -15.5, -47.5),
        (0, -20.5, -15),
        (5, -18.5, -15),
        (0, -18.5, -15),
        (10, -18, 20),
        (10, -18, -50),
        (10, -20.5, -15),
        (10, -15.5, -15),
    ]]
    fillet(fillet1_edges, radius=FILLET1_R)


solid = part_1.part
